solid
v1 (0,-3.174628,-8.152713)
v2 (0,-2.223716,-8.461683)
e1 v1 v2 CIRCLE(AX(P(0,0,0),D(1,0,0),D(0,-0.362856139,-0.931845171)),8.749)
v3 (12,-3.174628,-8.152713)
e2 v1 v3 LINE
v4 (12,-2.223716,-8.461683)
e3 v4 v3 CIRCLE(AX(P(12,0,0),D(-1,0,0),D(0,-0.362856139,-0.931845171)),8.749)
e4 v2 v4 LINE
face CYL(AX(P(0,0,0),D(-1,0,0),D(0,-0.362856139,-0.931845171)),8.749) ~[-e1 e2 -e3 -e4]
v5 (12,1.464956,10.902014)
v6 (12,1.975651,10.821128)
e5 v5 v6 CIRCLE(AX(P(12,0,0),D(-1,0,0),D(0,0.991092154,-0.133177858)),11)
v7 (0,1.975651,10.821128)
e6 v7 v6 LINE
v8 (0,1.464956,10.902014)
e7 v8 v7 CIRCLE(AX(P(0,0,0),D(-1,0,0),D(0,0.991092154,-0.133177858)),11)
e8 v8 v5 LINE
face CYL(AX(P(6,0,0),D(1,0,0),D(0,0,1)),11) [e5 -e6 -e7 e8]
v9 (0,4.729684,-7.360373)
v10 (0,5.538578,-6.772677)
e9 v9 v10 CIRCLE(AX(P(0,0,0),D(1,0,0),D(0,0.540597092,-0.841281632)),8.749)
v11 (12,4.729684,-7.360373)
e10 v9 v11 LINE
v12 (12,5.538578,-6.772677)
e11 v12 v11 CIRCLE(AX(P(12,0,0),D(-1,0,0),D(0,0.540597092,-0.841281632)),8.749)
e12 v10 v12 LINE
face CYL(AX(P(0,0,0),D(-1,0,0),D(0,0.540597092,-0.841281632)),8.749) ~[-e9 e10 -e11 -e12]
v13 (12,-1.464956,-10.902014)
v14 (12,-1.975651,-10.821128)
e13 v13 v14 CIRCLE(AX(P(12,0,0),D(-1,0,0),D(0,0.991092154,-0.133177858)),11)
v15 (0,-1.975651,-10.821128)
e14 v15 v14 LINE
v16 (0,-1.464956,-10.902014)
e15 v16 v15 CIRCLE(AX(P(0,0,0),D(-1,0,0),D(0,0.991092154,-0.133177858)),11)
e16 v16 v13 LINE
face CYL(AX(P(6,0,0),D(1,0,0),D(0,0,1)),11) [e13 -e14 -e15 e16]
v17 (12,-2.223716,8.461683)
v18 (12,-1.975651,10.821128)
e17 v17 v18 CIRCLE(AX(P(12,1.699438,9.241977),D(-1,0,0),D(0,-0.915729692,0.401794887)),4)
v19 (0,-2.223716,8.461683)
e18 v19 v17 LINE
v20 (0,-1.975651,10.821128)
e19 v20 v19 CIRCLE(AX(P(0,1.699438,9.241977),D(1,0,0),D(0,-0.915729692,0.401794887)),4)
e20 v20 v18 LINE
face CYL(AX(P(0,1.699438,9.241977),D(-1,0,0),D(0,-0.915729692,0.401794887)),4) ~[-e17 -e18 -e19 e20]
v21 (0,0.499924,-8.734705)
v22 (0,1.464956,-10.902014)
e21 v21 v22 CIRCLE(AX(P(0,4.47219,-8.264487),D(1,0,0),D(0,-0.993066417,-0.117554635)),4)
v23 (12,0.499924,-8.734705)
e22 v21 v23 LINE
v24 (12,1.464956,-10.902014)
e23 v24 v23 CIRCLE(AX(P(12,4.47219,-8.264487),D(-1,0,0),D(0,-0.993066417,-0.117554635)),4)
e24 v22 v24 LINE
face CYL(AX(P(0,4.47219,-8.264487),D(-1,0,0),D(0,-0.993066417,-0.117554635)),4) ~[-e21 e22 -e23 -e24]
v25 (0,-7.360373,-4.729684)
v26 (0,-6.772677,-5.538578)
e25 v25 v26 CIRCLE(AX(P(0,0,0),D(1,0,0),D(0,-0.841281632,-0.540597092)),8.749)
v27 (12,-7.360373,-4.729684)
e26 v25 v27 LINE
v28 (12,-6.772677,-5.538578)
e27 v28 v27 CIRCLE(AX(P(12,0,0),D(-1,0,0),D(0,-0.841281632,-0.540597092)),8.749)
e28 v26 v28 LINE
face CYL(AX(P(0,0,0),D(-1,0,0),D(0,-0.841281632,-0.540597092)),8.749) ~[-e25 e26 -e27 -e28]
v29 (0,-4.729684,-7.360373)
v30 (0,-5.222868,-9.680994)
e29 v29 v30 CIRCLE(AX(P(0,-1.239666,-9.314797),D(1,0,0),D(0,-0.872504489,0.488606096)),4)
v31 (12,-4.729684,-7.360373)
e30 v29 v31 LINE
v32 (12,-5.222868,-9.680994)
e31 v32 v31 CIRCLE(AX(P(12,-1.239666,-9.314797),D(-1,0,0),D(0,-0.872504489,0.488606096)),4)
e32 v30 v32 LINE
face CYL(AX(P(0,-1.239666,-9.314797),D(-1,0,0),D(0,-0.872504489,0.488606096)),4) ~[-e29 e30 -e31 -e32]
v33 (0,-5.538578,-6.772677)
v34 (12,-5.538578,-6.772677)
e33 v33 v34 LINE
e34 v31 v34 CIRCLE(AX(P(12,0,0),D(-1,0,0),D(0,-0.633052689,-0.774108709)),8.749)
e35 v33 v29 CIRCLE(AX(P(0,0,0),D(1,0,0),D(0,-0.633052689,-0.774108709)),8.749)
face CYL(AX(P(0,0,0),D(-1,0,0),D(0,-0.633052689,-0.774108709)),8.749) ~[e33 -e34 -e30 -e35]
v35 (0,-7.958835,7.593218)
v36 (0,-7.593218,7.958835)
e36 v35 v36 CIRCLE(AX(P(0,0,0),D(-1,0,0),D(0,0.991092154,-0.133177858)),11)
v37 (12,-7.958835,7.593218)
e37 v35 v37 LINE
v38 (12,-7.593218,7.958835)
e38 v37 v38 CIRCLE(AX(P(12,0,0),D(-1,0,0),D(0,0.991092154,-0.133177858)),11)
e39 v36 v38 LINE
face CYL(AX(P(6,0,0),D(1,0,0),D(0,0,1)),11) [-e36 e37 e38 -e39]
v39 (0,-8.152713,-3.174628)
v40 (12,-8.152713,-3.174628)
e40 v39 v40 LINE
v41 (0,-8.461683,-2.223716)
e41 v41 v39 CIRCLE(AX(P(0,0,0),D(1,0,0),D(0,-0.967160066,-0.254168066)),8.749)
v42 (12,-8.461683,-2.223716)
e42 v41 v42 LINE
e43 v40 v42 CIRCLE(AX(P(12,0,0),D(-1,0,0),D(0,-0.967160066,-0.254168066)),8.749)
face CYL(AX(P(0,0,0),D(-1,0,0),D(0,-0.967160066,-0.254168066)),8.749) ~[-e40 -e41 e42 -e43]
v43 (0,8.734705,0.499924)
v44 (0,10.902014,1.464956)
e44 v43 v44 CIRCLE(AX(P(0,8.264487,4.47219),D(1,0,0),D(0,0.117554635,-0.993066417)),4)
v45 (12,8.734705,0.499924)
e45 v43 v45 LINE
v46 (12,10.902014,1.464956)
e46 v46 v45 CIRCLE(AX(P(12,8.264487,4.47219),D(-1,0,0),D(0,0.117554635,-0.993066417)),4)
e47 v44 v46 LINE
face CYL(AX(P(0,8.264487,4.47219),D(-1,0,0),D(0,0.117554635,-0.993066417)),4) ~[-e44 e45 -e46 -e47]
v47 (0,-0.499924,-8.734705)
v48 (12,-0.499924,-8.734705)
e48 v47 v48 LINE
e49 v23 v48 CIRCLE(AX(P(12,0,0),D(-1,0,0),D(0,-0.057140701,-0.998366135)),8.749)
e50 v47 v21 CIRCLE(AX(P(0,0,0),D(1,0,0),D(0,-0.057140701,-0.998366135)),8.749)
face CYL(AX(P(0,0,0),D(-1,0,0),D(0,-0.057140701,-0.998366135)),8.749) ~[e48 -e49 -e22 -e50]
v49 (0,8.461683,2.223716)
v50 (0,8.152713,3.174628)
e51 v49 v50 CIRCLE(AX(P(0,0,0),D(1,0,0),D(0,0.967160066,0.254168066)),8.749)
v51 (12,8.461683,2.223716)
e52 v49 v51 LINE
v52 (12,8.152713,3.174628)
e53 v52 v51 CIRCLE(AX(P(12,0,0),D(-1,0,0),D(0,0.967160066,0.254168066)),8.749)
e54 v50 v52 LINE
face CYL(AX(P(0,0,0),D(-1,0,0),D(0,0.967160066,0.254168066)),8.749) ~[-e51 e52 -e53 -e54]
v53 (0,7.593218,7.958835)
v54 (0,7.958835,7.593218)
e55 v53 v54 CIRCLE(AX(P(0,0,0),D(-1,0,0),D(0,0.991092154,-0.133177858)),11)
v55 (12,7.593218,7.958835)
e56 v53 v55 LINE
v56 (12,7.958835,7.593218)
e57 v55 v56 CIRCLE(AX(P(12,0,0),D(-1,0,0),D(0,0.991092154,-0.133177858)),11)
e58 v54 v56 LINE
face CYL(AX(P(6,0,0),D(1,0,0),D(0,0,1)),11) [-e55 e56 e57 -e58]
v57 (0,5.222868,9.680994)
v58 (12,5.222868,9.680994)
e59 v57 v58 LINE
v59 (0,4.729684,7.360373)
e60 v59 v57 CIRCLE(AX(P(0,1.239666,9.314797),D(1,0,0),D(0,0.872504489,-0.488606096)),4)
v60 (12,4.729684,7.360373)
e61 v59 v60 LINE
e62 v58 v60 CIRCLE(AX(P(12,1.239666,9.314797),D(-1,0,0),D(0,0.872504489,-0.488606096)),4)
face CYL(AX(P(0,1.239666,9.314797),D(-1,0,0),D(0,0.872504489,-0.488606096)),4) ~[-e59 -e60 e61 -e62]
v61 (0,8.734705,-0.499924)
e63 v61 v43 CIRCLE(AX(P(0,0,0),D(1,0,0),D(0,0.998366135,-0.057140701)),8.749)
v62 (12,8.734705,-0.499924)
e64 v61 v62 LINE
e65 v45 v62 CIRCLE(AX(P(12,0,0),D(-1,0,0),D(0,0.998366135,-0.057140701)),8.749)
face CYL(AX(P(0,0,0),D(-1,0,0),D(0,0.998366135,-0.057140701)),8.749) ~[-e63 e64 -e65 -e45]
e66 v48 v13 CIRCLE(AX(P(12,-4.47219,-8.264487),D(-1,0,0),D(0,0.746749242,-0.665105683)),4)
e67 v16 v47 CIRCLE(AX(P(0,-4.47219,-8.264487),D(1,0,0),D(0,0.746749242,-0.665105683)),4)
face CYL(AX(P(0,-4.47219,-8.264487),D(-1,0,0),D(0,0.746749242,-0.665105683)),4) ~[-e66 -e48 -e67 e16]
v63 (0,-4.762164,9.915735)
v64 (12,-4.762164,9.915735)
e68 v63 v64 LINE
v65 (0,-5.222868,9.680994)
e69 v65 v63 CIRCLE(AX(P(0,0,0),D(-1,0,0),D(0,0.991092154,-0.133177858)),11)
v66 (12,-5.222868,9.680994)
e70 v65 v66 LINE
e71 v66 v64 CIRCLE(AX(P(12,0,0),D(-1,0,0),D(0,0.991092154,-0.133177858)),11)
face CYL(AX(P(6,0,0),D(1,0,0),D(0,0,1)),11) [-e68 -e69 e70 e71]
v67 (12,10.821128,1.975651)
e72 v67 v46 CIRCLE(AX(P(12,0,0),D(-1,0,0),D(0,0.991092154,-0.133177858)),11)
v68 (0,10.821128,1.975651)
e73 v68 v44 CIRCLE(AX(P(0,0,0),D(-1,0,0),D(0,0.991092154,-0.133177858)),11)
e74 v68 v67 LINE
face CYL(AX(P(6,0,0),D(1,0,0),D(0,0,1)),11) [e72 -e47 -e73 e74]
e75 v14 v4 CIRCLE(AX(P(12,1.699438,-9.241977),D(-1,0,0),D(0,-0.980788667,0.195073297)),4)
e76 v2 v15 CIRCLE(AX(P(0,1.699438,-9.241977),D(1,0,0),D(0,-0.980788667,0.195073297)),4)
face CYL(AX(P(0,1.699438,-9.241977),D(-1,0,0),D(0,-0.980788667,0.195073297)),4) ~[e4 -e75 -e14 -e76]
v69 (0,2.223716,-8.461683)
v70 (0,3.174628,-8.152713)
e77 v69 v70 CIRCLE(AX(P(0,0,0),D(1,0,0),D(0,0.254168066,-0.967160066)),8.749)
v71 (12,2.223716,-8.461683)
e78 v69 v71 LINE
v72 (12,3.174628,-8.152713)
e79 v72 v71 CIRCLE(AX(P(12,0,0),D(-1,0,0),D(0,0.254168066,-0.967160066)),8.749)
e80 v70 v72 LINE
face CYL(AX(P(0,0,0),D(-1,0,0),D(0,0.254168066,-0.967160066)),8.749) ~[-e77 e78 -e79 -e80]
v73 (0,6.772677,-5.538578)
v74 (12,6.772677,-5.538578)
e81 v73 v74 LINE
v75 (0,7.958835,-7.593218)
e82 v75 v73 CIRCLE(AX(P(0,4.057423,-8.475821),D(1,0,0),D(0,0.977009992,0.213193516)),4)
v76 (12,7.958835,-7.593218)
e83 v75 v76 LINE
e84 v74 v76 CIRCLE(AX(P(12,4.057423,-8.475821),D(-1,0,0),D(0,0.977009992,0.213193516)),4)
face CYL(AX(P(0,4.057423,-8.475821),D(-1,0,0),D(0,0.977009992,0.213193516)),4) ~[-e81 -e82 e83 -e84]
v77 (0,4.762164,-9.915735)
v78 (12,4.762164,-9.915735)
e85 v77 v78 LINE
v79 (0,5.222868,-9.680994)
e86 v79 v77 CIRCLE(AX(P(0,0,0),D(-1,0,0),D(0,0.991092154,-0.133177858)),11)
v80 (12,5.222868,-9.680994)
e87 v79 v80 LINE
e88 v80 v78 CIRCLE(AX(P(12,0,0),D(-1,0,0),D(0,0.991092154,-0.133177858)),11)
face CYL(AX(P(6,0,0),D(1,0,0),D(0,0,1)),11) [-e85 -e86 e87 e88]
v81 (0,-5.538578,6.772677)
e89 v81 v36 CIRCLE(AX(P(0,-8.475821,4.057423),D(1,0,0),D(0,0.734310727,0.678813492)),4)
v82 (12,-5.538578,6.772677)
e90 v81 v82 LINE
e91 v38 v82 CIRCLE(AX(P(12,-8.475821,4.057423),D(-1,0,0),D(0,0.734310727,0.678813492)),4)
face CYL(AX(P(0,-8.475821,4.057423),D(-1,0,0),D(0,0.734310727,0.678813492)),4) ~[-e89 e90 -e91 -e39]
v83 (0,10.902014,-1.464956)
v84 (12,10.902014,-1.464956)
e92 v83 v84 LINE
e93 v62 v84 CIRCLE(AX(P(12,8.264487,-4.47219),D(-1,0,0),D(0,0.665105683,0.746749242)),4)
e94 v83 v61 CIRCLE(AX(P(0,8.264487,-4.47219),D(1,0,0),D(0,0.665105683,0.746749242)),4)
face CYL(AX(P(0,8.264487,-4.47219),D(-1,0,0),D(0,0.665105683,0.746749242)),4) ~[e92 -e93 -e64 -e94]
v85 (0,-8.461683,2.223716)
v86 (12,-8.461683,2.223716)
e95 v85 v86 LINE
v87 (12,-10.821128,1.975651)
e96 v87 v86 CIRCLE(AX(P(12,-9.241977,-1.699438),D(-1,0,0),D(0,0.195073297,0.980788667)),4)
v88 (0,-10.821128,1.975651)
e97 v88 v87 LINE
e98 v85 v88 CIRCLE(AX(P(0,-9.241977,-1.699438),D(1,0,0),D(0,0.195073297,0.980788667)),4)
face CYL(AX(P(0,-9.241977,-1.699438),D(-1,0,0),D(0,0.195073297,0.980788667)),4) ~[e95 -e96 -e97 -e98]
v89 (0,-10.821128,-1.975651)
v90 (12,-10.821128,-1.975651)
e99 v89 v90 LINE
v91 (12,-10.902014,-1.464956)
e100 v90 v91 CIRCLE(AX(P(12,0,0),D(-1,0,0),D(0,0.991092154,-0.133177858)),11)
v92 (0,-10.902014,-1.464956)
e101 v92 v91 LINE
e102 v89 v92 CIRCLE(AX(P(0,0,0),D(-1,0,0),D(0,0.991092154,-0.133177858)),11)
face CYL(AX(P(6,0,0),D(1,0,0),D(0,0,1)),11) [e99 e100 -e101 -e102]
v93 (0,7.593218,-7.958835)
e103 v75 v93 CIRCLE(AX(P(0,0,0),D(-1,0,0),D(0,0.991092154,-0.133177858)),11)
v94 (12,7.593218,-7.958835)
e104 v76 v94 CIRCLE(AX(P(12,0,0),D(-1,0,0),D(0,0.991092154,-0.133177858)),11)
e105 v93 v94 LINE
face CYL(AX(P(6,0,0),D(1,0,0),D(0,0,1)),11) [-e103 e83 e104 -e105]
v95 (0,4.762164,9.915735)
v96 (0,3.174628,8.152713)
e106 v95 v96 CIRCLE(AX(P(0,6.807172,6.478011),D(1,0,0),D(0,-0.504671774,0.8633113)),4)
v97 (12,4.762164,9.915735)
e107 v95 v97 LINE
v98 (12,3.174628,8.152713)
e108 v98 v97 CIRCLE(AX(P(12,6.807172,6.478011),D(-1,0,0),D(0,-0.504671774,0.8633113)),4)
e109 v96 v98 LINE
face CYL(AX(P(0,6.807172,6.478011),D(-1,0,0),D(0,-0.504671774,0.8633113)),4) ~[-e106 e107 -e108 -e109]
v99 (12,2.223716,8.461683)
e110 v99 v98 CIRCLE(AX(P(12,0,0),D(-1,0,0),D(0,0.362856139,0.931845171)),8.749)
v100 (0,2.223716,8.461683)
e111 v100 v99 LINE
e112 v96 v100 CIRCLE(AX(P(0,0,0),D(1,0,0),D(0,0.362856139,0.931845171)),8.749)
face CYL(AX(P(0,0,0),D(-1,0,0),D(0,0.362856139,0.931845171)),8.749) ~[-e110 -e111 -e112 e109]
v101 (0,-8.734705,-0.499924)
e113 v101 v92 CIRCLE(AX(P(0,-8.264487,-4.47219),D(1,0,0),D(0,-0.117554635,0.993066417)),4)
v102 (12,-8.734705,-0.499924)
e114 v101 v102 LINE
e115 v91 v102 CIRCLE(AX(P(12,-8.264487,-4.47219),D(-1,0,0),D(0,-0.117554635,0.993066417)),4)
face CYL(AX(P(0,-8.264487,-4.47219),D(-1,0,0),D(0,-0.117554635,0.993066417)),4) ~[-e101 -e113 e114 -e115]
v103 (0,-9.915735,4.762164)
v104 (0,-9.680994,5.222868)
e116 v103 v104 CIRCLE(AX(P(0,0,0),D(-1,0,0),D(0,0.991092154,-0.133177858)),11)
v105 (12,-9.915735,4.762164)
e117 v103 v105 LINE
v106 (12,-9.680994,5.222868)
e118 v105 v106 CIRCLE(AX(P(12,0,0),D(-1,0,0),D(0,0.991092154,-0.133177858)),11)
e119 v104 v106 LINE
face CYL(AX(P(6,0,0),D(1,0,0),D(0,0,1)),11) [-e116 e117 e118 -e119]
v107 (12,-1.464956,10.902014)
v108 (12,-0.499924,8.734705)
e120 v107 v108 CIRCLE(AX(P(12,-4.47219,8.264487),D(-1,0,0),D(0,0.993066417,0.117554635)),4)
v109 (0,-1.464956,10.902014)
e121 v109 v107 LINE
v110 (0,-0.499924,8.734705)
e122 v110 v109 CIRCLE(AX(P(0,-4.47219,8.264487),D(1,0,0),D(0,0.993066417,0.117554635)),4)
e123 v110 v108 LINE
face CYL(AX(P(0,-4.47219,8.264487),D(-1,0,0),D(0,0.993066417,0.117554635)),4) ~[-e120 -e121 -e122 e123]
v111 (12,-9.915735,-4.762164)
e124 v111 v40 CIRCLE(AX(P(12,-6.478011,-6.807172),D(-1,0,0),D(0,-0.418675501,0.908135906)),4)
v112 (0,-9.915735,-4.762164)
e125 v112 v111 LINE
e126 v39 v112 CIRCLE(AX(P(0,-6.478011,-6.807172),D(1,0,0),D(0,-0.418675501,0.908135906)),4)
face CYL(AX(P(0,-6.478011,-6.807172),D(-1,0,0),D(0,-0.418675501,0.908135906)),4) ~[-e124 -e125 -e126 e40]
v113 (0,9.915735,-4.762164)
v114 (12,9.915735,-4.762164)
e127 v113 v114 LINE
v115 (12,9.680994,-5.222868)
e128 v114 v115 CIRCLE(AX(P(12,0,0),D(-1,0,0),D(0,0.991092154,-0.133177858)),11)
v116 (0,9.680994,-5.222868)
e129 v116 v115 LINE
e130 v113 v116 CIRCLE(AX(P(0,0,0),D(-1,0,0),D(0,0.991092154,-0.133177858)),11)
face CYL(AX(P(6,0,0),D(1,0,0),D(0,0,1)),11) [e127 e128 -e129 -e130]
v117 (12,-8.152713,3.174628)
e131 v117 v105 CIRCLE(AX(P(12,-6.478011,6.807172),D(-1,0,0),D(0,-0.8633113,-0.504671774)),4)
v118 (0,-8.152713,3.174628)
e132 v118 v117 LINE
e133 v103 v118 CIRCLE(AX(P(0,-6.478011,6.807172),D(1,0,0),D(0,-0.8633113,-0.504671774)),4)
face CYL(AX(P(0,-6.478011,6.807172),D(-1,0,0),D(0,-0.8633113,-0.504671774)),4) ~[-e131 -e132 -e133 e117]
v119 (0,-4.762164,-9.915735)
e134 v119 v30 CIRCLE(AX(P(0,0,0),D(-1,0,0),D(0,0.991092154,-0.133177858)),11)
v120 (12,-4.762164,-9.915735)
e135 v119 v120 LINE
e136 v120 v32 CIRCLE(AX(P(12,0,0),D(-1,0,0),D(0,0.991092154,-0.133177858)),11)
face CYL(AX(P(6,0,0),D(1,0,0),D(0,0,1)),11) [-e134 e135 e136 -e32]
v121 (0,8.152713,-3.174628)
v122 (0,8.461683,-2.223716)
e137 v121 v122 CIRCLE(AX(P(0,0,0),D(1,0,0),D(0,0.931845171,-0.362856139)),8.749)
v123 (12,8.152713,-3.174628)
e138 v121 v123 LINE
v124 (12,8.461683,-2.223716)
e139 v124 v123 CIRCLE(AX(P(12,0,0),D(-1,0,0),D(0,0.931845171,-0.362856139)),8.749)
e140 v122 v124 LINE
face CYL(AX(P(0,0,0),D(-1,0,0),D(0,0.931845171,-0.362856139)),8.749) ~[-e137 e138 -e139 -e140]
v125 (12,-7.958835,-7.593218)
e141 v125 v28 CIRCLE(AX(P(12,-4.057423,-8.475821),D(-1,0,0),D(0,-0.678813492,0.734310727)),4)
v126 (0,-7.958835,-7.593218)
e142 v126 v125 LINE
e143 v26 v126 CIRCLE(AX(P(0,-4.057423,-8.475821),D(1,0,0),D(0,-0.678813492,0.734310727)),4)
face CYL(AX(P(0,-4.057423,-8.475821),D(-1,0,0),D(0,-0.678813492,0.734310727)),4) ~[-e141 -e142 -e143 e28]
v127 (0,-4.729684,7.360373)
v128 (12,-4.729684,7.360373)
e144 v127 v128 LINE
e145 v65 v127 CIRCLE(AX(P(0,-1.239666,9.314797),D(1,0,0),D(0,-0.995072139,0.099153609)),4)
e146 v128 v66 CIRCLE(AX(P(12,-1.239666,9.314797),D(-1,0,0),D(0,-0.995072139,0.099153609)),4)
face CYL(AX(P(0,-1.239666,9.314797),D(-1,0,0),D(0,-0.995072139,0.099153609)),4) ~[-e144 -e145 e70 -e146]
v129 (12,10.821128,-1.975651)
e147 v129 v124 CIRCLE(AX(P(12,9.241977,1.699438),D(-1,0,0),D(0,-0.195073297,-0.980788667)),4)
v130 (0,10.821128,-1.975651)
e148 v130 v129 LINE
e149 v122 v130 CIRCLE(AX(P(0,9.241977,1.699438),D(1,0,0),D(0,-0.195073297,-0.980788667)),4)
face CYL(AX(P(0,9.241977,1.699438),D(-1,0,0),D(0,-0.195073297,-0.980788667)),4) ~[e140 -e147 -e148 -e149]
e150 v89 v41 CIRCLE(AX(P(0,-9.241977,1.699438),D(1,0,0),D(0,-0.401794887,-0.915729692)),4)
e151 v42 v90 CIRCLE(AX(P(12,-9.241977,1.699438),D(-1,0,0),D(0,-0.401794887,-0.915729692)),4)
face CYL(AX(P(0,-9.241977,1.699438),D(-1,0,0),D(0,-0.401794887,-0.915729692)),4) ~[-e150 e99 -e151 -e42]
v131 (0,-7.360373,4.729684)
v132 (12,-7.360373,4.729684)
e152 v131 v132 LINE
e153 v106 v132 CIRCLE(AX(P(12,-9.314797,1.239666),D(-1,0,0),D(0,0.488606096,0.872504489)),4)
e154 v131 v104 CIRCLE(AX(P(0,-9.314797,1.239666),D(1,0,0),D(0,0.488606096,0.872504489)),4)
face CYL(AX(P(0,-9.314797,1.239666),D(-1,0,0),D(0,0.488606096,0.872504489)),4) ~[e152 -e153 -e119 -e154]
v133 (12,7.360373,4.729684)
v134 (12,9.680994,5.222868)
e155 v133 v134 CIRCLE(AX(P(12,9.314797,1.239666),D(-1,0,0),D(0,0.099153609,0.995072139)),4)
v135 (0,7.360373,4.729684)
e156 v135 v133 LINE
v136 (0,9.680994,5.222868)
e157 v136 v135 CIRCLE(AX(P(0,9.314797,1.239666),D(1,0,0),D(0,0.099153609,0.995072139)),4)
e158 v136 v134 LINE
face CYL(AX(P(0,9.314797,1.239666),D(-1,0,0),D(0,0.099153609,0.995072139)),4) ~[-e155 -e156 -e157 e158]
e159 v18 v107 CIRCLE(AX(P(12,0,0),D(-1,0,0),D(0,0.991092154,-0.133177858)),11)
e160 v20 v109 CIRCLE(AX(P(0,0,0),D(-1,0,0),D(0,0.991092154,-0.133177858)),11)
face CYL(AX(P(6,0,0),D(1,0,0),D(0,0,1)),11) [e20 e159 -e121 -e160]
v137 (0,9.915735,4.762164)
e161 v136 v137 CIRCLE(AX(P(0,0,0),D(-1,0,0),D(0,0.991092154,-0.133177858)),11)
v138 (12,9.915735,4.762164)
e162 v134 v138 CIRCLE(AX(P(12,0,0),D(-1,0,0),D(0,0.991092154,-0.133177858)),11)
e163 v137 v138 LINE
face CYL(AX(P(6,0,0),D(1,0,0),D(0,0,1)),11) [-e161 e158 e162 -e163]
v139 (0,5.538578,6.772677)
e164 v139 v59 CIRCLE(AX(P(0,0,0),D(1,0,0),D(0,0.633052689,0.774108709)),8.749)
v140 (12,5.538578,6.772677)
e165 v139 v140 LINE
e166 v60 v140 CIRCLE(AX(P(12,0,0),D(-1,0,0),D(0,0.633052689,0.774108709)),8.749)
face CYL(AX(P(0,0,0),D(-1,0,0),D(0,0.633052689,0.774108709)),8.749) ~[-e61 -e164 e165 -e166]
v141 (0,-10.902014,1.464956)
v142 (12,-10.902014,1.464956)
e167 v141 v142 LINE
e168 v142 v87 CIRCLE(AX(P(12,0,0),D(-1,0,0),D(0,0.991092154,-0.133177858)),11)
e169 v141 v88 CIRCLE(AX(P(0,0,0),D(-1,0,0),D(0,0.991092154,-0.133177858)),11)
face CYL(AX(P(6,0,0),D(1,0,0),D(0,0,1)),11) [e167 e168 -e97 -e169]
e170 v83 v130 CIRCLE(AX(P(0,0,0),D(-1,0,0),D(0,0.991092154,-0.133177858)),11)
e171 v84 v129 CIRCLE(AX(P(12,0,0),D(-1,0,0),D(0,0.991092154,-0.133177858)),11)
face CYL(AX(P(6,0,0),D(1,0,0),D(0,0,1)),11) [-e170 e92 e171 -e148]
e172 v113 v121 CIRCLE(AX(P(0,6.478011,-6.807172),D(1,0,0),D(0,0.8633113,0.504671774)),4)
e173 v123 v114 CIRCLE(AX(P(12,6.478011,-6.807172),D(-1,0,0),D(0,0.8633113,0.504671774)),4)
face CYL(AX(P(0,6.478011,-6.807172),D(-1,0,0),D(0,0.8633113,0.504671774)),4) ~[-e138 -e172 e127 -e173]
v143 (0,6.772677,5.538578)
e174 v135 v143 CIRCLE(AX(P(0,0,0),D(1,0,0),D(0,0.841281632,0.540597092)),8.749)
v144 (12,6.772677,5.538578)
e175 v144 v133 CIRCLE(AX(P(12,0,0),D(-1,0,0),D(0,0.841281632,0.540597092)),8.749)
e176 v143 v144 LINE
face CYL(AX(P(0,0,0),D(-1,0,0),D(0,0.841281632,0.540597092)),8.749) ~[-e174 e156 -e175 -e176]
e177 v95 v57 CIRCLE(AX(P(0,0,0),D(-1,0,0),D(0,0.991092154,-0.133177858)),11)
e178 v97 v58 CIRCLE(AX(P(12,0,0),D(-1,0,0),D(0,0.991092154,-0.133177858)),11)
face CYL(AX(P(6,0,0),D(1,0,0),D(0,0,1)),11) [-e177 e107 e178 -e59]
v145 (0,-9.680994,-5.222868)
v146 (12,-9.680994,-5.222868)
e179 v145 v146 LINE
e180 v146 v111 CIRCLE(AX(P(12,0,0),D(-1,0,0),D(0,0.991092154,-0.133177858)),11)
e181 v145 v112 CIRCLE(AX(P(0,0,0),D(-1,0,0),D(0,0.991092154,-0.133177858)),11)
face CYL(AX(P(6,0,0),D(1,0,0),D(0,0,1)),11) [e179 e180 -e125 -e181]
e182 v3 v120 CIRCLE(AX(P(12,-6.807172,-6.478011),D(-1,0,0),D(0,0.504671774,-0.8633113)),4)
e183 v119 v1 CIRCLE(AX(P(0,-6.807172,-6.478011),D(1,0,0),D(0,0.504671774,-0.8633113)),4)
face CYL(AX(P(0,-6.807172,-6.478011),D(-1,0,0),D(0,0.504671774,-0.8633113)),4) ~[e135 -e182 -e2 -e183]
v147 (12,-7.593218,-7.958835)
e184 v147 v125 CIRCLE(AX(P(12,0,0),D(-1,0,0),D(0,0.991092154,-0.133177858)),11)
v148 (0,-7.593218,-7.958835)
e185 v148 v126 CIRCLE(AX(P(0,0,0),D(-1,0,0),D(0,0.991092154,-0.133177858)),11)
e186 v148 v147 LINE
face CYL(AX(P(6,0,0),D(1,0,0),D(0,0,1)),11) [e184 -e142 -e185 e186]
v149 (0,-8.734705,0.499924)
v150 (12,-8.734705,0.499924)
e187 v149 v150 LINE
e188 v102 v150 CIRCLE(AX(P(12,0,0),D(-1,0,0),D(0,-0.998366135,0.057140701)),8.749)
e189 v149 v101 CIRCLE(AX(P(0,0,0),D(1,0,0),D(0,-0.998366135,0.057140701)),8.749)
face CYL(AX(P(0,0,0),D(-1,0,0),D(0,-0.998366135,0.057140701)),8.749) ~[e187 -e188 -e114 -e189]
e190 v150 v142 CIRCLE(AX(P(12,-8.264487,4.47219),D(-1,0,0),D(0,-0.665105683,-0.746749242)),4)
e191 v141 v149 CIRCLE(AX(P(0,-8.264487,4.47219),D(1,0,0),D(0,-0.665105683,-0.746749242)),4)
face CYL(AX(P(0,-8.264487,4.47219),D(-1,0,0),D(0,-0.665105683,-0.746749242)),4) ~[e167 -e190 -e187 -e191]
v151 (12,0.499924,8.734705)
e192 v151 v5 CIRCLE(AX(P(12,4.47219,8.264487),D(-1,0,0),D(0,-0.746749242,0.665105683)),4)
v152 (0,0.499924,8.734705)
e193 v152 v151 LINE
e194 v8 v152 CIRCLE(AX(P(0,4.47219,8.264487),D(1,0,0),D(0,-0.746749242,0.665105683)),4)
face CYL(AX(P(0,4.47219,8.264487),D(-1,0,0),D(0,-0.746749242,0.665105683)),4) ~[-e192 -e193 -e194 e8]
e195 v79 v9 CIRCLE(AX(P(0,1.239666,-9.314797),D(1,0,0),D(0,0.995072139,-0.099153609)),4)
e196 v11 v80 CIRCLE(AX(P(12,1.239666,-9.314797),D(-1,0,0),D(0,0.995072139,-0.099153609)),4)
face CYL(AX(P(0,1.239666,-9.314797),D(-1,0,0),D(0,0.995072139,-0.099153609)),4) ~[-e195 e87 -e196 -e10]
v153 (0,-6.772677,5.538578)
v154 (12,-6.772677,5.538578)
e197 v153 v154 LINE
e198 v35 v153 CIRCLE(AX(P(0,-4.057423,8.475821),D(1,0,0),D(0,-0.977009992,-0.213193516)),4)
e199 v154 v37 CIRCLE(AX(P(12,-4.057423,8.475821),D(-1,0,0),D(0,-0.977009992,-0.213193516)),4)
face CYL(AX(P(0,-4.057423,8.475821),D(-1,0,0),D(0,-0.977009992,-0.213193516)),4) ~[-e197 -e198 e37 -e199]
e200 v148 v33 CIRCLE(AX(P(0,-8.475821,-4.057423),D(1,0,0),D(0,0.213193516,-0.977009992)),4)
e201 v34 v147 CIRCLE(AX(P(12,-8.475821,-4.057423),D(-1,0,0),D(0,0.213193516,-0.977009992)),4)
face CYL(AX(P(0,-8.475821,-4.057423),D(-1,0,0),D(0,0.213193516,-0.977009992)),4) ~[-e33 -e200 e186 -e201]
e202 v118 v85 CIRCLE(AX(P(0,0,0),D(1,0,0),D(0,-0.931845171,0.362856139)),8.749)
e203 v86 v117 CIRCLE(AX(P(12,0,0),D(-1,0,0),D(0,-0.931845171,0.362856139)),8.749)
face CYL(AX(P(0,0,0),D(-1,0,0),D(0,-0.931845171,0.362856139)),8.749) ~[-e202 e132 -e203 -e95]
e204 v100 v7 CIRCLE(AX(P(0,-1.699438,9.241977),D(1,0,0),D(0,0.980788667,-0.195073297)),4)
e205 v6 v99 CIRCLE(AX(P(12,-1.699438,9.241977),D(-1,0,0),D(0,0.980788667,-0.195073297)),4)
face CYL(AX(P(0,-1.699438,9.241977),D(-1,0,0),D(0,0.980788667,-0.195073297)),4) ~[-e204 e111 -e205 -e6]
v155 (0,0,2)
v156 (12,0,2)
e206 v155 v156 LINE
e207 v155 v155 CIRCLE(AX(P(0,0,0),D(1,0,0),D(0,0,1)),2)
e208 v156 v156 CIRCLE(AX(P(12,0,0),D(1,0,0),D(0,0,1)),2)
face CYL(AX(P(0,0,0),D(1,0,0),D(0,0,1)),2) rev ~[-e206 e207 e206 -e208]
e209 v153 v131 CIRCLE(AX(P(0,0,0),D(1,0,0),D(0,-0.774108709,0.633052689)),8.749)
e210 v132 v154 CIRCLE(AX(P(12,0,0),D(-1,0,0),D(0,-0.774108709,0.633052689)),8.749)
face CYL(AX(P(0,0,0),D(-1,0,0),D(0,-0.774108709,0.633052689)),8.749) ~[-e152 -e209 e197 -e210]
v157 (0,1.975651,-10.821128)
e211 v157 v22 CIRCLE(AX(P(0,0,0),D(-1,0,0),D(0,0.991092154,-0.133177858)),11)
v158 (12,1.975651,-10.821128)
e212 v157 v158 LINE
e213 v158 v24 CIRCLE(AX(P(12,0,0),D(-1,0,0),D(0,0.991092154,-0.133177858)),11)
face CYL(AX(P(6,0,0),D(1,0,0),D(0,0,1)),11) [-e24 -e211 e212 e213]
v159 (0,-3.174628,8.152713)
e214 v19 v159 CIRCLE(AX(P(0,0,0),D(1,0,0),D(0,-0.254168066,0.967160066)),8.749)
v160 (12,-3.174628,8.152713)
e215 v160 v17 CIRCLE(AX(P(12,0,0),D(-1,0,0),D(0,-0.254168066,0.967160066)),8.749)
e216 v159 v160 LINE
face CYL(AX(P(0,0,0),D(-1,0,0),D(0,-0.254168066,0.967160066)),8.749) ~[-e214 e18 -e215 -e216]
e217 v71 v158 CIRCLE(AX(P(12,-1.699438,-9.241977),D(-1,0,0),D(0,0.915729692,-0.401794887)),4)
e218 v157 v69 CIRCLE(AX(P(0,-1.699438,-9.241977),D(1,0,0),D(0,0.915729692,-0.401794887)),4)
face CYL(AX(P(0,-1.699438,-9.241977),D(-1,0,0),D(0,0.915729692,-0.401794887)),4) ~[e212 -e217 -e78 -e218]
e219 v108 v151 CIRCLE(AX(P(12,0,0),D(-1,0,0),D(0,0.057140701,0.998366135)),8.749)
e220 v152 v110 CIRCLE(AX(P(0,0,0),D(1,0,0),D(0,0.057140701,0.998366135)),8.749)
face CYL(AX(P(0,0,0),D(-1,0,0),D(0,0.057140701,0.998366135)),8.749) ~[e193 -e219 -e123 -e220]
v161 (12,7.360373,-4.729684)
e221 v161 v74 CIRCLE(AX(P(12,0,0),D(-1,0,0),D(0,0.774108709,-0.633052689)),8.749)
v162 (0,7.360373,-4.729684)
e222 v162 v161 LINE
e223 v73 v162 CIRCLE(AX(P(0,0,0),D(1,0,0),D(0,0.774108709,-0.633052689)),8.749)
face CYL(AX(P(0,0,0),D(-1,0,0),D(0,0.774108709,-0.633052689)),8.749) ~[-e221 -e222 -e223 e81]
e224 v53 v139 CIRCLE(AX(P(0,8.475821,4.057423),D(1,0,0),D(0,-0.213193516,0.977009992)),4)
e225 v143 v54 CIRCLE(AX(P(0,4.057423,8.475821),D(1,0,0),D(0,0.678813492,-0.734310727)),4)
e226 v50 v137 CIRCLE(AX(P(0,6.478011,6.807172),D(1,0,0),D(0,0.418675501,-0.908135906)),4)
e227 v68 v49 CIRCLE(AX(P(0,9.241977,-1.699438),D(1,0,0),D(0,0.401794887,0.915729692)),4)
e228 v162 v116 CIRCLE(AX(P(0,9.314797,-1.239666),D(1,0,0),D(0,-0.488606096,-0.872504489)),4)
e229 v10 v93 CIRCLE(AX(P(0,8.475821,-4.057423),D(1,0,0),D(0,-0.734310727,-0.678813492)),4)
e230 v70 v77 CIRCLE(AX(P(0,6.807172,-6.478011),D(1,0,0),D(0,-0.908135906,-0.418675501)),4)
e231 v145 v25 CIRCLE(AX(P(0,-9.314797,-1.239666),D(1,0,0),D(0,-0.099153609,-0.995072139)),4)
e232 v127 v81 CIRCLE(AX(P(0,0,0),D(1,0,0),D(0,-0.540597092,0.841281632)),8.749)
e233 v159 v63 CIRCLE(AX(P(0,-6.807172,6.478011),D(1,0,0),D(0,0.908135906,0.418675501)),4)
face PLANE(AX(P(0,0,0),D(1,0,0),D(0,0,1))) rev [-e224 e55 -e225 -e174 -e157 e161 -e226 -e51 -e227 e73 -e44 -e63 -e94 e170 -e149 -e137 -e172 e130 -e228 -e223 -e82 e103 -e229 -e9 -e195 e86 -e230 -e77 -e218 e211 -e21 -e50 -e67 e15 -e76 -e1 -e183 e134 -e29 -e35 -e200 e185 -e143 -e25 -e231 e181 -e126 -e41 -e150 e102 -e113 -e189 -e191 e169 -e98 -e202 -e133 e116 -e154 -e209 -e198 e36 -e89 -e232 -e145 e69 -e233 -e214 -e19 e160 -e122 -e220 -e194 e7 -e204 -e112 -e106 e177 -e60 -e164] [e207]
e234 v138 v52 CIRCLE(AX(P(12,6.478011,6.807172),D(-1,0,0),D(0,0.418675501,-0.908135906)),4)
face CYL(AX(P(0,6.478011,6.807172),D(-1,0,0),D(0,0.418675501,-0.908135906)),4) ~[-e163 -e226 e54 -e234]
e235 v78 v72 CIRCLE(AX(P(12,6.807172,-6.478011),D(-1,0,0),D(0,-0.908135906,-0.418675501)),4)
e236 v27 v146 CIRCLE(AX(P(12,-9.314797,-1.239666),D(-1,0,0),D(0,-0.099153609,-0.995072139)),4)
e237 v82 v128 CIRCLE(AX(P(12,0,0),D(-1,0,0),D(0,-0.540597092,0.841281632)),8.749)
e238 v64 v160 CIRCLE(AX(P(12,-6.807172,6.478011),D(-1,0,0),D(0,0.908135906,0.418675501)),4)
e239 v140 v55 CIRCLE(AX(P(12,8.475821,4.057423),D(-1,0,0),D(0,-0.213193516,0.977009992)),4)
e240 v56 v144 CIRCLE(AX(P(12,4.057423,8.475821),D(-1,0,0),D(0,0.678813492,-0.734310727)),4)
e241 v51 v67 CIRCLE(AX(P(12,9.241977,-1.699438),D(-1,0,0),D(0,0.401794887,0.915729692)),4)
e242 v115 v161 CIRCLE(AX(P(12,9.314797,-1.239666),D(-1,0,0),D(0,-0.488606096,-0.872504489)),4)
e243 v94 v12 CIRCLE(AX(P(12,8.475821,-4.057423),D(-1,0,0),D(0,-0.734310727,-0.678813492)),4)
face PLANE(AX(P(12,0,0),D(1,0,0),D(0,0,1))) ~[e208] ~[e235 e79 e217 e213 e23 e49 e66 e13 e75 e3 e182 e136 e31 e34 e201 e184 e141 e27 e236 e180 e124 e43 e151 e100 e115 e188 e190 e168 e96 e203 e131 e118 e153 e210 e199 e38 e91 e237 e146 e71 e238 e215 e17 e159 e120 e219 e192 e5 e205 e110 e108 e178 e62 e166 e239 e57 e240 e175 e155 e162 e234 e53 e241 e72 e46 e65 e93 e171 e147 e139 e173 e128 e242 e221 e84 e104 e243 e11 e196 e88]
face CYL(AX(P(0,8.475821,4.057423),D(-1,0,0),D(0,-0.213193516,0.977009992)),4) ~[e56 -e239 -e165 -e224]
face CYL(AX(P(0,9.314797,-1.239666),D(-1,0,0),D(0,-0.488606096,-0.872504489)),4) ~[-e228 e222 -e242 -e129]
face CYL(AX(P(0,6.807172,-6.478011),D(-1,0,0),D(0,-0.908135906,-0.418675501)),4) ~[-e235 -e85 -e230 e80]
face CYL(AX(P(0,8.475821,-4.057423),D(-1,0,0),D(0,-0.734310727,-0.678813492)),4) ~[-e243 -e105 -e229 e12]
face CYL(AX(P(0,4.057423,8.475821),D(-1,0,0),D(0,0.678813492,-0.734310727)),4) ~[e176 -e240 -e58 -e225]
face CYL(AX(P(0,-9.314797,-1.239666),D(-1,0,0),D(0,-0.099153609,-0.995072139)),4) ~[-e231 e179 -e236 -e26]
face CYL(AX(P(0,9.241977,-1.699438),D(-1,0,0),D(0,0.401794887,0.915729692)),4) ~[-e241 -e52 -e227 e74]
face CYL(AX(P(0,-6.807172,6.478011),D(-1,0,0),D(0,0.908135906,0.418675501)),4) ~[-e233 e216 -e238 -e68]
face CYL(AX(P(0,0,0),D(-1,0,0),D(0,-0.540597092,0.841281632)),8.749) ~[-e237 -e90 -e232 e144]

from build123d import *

# Parameters (mm, degrees)
BASPROSKE_W     = 12
BASPROSKE_H     = 11
TOOTHCUT_DEPTH  = 20.646882704
TEETHCUTS_COUNT = 20
TEETHCUTS_ANGLE = 342
BORSKE_R        = 2
BORE_DEPTH      = 50.0000508


with BuildPart() as part:
    # BasProSke → Base-Revolve (revolve)
    with BuildSketch(Plane(origin=(0, 0, 0), x_dir=(1, 0, 0), z_dir=(0, 1, 0)), mode=Mode.PRIVATE) as base_revolve_sk:
        with Locations((6, 5.5)):
            Rectangle(BASPROSKE_W, BASPROSKE_H)
    revolve(base_revolve_sk.sketch.rotate(Axis((-10, 0, 0), (1, 0, 0)), 180), axis=Axis((-10, 0, 0), (1, 0, 0)))

    # TooCutSke → ToothCut (cut, through all)
    with BuildSketch(Plane(origin=(0, 0, 0), x_dir=(0, 0, -1), z_dir=(1, 0, 0))):
        with BuildLine():
            ThreePointArc((0.499924007, 8.734705318), (0, 8.749), (-0.499924007, 8.734705318))
            ThreePointArc((-0.499924007, 8.734705318), (-0.824302243, 9.905497836), (-1.485192705, 10.924909509))
            ThreePointArc((-1.485192705, 10.924909509), (0, 11.0254), (1.485192705, 10.924909509))
            ThreePointArc((1.485192705, 10.924909509), (0.824302243, 9.905497836), (0.499924007, 8.734705318))
        make_face()
    toothcut = extrude(amount=TOOTHCUT_DEPTH, mode=Mode.SUBTRACT)

    # TeethCuts: ToothCut ×20 about axis
    teethcuts_axis = Axis((-10, 0, 0), (1, 0, 0))
    for i in range(1, TEETHCUTS_COUNT):
        add(toothcut.rotate(teethcuts_axis, i * TEETHCUTS_ANGLE / (TEETHCUTS_COUNT - 1)), mode=Mode.SUBTRACT)

    # BorSke → Bore (cut, symmetric)
    with BuildSketch(Plane(origin=(0, 0, 0), x_dir=(0, 0, -1), z_dir=(1, 0, 0))):
        with Locations(Location((0, 0, 0), (0, 0, 180))):
            Circle(BORSKE_R)
    extrude(amount=BORE_DEPTH, both=True, mode=Mode.SUBTRACT)


solid = part.part
